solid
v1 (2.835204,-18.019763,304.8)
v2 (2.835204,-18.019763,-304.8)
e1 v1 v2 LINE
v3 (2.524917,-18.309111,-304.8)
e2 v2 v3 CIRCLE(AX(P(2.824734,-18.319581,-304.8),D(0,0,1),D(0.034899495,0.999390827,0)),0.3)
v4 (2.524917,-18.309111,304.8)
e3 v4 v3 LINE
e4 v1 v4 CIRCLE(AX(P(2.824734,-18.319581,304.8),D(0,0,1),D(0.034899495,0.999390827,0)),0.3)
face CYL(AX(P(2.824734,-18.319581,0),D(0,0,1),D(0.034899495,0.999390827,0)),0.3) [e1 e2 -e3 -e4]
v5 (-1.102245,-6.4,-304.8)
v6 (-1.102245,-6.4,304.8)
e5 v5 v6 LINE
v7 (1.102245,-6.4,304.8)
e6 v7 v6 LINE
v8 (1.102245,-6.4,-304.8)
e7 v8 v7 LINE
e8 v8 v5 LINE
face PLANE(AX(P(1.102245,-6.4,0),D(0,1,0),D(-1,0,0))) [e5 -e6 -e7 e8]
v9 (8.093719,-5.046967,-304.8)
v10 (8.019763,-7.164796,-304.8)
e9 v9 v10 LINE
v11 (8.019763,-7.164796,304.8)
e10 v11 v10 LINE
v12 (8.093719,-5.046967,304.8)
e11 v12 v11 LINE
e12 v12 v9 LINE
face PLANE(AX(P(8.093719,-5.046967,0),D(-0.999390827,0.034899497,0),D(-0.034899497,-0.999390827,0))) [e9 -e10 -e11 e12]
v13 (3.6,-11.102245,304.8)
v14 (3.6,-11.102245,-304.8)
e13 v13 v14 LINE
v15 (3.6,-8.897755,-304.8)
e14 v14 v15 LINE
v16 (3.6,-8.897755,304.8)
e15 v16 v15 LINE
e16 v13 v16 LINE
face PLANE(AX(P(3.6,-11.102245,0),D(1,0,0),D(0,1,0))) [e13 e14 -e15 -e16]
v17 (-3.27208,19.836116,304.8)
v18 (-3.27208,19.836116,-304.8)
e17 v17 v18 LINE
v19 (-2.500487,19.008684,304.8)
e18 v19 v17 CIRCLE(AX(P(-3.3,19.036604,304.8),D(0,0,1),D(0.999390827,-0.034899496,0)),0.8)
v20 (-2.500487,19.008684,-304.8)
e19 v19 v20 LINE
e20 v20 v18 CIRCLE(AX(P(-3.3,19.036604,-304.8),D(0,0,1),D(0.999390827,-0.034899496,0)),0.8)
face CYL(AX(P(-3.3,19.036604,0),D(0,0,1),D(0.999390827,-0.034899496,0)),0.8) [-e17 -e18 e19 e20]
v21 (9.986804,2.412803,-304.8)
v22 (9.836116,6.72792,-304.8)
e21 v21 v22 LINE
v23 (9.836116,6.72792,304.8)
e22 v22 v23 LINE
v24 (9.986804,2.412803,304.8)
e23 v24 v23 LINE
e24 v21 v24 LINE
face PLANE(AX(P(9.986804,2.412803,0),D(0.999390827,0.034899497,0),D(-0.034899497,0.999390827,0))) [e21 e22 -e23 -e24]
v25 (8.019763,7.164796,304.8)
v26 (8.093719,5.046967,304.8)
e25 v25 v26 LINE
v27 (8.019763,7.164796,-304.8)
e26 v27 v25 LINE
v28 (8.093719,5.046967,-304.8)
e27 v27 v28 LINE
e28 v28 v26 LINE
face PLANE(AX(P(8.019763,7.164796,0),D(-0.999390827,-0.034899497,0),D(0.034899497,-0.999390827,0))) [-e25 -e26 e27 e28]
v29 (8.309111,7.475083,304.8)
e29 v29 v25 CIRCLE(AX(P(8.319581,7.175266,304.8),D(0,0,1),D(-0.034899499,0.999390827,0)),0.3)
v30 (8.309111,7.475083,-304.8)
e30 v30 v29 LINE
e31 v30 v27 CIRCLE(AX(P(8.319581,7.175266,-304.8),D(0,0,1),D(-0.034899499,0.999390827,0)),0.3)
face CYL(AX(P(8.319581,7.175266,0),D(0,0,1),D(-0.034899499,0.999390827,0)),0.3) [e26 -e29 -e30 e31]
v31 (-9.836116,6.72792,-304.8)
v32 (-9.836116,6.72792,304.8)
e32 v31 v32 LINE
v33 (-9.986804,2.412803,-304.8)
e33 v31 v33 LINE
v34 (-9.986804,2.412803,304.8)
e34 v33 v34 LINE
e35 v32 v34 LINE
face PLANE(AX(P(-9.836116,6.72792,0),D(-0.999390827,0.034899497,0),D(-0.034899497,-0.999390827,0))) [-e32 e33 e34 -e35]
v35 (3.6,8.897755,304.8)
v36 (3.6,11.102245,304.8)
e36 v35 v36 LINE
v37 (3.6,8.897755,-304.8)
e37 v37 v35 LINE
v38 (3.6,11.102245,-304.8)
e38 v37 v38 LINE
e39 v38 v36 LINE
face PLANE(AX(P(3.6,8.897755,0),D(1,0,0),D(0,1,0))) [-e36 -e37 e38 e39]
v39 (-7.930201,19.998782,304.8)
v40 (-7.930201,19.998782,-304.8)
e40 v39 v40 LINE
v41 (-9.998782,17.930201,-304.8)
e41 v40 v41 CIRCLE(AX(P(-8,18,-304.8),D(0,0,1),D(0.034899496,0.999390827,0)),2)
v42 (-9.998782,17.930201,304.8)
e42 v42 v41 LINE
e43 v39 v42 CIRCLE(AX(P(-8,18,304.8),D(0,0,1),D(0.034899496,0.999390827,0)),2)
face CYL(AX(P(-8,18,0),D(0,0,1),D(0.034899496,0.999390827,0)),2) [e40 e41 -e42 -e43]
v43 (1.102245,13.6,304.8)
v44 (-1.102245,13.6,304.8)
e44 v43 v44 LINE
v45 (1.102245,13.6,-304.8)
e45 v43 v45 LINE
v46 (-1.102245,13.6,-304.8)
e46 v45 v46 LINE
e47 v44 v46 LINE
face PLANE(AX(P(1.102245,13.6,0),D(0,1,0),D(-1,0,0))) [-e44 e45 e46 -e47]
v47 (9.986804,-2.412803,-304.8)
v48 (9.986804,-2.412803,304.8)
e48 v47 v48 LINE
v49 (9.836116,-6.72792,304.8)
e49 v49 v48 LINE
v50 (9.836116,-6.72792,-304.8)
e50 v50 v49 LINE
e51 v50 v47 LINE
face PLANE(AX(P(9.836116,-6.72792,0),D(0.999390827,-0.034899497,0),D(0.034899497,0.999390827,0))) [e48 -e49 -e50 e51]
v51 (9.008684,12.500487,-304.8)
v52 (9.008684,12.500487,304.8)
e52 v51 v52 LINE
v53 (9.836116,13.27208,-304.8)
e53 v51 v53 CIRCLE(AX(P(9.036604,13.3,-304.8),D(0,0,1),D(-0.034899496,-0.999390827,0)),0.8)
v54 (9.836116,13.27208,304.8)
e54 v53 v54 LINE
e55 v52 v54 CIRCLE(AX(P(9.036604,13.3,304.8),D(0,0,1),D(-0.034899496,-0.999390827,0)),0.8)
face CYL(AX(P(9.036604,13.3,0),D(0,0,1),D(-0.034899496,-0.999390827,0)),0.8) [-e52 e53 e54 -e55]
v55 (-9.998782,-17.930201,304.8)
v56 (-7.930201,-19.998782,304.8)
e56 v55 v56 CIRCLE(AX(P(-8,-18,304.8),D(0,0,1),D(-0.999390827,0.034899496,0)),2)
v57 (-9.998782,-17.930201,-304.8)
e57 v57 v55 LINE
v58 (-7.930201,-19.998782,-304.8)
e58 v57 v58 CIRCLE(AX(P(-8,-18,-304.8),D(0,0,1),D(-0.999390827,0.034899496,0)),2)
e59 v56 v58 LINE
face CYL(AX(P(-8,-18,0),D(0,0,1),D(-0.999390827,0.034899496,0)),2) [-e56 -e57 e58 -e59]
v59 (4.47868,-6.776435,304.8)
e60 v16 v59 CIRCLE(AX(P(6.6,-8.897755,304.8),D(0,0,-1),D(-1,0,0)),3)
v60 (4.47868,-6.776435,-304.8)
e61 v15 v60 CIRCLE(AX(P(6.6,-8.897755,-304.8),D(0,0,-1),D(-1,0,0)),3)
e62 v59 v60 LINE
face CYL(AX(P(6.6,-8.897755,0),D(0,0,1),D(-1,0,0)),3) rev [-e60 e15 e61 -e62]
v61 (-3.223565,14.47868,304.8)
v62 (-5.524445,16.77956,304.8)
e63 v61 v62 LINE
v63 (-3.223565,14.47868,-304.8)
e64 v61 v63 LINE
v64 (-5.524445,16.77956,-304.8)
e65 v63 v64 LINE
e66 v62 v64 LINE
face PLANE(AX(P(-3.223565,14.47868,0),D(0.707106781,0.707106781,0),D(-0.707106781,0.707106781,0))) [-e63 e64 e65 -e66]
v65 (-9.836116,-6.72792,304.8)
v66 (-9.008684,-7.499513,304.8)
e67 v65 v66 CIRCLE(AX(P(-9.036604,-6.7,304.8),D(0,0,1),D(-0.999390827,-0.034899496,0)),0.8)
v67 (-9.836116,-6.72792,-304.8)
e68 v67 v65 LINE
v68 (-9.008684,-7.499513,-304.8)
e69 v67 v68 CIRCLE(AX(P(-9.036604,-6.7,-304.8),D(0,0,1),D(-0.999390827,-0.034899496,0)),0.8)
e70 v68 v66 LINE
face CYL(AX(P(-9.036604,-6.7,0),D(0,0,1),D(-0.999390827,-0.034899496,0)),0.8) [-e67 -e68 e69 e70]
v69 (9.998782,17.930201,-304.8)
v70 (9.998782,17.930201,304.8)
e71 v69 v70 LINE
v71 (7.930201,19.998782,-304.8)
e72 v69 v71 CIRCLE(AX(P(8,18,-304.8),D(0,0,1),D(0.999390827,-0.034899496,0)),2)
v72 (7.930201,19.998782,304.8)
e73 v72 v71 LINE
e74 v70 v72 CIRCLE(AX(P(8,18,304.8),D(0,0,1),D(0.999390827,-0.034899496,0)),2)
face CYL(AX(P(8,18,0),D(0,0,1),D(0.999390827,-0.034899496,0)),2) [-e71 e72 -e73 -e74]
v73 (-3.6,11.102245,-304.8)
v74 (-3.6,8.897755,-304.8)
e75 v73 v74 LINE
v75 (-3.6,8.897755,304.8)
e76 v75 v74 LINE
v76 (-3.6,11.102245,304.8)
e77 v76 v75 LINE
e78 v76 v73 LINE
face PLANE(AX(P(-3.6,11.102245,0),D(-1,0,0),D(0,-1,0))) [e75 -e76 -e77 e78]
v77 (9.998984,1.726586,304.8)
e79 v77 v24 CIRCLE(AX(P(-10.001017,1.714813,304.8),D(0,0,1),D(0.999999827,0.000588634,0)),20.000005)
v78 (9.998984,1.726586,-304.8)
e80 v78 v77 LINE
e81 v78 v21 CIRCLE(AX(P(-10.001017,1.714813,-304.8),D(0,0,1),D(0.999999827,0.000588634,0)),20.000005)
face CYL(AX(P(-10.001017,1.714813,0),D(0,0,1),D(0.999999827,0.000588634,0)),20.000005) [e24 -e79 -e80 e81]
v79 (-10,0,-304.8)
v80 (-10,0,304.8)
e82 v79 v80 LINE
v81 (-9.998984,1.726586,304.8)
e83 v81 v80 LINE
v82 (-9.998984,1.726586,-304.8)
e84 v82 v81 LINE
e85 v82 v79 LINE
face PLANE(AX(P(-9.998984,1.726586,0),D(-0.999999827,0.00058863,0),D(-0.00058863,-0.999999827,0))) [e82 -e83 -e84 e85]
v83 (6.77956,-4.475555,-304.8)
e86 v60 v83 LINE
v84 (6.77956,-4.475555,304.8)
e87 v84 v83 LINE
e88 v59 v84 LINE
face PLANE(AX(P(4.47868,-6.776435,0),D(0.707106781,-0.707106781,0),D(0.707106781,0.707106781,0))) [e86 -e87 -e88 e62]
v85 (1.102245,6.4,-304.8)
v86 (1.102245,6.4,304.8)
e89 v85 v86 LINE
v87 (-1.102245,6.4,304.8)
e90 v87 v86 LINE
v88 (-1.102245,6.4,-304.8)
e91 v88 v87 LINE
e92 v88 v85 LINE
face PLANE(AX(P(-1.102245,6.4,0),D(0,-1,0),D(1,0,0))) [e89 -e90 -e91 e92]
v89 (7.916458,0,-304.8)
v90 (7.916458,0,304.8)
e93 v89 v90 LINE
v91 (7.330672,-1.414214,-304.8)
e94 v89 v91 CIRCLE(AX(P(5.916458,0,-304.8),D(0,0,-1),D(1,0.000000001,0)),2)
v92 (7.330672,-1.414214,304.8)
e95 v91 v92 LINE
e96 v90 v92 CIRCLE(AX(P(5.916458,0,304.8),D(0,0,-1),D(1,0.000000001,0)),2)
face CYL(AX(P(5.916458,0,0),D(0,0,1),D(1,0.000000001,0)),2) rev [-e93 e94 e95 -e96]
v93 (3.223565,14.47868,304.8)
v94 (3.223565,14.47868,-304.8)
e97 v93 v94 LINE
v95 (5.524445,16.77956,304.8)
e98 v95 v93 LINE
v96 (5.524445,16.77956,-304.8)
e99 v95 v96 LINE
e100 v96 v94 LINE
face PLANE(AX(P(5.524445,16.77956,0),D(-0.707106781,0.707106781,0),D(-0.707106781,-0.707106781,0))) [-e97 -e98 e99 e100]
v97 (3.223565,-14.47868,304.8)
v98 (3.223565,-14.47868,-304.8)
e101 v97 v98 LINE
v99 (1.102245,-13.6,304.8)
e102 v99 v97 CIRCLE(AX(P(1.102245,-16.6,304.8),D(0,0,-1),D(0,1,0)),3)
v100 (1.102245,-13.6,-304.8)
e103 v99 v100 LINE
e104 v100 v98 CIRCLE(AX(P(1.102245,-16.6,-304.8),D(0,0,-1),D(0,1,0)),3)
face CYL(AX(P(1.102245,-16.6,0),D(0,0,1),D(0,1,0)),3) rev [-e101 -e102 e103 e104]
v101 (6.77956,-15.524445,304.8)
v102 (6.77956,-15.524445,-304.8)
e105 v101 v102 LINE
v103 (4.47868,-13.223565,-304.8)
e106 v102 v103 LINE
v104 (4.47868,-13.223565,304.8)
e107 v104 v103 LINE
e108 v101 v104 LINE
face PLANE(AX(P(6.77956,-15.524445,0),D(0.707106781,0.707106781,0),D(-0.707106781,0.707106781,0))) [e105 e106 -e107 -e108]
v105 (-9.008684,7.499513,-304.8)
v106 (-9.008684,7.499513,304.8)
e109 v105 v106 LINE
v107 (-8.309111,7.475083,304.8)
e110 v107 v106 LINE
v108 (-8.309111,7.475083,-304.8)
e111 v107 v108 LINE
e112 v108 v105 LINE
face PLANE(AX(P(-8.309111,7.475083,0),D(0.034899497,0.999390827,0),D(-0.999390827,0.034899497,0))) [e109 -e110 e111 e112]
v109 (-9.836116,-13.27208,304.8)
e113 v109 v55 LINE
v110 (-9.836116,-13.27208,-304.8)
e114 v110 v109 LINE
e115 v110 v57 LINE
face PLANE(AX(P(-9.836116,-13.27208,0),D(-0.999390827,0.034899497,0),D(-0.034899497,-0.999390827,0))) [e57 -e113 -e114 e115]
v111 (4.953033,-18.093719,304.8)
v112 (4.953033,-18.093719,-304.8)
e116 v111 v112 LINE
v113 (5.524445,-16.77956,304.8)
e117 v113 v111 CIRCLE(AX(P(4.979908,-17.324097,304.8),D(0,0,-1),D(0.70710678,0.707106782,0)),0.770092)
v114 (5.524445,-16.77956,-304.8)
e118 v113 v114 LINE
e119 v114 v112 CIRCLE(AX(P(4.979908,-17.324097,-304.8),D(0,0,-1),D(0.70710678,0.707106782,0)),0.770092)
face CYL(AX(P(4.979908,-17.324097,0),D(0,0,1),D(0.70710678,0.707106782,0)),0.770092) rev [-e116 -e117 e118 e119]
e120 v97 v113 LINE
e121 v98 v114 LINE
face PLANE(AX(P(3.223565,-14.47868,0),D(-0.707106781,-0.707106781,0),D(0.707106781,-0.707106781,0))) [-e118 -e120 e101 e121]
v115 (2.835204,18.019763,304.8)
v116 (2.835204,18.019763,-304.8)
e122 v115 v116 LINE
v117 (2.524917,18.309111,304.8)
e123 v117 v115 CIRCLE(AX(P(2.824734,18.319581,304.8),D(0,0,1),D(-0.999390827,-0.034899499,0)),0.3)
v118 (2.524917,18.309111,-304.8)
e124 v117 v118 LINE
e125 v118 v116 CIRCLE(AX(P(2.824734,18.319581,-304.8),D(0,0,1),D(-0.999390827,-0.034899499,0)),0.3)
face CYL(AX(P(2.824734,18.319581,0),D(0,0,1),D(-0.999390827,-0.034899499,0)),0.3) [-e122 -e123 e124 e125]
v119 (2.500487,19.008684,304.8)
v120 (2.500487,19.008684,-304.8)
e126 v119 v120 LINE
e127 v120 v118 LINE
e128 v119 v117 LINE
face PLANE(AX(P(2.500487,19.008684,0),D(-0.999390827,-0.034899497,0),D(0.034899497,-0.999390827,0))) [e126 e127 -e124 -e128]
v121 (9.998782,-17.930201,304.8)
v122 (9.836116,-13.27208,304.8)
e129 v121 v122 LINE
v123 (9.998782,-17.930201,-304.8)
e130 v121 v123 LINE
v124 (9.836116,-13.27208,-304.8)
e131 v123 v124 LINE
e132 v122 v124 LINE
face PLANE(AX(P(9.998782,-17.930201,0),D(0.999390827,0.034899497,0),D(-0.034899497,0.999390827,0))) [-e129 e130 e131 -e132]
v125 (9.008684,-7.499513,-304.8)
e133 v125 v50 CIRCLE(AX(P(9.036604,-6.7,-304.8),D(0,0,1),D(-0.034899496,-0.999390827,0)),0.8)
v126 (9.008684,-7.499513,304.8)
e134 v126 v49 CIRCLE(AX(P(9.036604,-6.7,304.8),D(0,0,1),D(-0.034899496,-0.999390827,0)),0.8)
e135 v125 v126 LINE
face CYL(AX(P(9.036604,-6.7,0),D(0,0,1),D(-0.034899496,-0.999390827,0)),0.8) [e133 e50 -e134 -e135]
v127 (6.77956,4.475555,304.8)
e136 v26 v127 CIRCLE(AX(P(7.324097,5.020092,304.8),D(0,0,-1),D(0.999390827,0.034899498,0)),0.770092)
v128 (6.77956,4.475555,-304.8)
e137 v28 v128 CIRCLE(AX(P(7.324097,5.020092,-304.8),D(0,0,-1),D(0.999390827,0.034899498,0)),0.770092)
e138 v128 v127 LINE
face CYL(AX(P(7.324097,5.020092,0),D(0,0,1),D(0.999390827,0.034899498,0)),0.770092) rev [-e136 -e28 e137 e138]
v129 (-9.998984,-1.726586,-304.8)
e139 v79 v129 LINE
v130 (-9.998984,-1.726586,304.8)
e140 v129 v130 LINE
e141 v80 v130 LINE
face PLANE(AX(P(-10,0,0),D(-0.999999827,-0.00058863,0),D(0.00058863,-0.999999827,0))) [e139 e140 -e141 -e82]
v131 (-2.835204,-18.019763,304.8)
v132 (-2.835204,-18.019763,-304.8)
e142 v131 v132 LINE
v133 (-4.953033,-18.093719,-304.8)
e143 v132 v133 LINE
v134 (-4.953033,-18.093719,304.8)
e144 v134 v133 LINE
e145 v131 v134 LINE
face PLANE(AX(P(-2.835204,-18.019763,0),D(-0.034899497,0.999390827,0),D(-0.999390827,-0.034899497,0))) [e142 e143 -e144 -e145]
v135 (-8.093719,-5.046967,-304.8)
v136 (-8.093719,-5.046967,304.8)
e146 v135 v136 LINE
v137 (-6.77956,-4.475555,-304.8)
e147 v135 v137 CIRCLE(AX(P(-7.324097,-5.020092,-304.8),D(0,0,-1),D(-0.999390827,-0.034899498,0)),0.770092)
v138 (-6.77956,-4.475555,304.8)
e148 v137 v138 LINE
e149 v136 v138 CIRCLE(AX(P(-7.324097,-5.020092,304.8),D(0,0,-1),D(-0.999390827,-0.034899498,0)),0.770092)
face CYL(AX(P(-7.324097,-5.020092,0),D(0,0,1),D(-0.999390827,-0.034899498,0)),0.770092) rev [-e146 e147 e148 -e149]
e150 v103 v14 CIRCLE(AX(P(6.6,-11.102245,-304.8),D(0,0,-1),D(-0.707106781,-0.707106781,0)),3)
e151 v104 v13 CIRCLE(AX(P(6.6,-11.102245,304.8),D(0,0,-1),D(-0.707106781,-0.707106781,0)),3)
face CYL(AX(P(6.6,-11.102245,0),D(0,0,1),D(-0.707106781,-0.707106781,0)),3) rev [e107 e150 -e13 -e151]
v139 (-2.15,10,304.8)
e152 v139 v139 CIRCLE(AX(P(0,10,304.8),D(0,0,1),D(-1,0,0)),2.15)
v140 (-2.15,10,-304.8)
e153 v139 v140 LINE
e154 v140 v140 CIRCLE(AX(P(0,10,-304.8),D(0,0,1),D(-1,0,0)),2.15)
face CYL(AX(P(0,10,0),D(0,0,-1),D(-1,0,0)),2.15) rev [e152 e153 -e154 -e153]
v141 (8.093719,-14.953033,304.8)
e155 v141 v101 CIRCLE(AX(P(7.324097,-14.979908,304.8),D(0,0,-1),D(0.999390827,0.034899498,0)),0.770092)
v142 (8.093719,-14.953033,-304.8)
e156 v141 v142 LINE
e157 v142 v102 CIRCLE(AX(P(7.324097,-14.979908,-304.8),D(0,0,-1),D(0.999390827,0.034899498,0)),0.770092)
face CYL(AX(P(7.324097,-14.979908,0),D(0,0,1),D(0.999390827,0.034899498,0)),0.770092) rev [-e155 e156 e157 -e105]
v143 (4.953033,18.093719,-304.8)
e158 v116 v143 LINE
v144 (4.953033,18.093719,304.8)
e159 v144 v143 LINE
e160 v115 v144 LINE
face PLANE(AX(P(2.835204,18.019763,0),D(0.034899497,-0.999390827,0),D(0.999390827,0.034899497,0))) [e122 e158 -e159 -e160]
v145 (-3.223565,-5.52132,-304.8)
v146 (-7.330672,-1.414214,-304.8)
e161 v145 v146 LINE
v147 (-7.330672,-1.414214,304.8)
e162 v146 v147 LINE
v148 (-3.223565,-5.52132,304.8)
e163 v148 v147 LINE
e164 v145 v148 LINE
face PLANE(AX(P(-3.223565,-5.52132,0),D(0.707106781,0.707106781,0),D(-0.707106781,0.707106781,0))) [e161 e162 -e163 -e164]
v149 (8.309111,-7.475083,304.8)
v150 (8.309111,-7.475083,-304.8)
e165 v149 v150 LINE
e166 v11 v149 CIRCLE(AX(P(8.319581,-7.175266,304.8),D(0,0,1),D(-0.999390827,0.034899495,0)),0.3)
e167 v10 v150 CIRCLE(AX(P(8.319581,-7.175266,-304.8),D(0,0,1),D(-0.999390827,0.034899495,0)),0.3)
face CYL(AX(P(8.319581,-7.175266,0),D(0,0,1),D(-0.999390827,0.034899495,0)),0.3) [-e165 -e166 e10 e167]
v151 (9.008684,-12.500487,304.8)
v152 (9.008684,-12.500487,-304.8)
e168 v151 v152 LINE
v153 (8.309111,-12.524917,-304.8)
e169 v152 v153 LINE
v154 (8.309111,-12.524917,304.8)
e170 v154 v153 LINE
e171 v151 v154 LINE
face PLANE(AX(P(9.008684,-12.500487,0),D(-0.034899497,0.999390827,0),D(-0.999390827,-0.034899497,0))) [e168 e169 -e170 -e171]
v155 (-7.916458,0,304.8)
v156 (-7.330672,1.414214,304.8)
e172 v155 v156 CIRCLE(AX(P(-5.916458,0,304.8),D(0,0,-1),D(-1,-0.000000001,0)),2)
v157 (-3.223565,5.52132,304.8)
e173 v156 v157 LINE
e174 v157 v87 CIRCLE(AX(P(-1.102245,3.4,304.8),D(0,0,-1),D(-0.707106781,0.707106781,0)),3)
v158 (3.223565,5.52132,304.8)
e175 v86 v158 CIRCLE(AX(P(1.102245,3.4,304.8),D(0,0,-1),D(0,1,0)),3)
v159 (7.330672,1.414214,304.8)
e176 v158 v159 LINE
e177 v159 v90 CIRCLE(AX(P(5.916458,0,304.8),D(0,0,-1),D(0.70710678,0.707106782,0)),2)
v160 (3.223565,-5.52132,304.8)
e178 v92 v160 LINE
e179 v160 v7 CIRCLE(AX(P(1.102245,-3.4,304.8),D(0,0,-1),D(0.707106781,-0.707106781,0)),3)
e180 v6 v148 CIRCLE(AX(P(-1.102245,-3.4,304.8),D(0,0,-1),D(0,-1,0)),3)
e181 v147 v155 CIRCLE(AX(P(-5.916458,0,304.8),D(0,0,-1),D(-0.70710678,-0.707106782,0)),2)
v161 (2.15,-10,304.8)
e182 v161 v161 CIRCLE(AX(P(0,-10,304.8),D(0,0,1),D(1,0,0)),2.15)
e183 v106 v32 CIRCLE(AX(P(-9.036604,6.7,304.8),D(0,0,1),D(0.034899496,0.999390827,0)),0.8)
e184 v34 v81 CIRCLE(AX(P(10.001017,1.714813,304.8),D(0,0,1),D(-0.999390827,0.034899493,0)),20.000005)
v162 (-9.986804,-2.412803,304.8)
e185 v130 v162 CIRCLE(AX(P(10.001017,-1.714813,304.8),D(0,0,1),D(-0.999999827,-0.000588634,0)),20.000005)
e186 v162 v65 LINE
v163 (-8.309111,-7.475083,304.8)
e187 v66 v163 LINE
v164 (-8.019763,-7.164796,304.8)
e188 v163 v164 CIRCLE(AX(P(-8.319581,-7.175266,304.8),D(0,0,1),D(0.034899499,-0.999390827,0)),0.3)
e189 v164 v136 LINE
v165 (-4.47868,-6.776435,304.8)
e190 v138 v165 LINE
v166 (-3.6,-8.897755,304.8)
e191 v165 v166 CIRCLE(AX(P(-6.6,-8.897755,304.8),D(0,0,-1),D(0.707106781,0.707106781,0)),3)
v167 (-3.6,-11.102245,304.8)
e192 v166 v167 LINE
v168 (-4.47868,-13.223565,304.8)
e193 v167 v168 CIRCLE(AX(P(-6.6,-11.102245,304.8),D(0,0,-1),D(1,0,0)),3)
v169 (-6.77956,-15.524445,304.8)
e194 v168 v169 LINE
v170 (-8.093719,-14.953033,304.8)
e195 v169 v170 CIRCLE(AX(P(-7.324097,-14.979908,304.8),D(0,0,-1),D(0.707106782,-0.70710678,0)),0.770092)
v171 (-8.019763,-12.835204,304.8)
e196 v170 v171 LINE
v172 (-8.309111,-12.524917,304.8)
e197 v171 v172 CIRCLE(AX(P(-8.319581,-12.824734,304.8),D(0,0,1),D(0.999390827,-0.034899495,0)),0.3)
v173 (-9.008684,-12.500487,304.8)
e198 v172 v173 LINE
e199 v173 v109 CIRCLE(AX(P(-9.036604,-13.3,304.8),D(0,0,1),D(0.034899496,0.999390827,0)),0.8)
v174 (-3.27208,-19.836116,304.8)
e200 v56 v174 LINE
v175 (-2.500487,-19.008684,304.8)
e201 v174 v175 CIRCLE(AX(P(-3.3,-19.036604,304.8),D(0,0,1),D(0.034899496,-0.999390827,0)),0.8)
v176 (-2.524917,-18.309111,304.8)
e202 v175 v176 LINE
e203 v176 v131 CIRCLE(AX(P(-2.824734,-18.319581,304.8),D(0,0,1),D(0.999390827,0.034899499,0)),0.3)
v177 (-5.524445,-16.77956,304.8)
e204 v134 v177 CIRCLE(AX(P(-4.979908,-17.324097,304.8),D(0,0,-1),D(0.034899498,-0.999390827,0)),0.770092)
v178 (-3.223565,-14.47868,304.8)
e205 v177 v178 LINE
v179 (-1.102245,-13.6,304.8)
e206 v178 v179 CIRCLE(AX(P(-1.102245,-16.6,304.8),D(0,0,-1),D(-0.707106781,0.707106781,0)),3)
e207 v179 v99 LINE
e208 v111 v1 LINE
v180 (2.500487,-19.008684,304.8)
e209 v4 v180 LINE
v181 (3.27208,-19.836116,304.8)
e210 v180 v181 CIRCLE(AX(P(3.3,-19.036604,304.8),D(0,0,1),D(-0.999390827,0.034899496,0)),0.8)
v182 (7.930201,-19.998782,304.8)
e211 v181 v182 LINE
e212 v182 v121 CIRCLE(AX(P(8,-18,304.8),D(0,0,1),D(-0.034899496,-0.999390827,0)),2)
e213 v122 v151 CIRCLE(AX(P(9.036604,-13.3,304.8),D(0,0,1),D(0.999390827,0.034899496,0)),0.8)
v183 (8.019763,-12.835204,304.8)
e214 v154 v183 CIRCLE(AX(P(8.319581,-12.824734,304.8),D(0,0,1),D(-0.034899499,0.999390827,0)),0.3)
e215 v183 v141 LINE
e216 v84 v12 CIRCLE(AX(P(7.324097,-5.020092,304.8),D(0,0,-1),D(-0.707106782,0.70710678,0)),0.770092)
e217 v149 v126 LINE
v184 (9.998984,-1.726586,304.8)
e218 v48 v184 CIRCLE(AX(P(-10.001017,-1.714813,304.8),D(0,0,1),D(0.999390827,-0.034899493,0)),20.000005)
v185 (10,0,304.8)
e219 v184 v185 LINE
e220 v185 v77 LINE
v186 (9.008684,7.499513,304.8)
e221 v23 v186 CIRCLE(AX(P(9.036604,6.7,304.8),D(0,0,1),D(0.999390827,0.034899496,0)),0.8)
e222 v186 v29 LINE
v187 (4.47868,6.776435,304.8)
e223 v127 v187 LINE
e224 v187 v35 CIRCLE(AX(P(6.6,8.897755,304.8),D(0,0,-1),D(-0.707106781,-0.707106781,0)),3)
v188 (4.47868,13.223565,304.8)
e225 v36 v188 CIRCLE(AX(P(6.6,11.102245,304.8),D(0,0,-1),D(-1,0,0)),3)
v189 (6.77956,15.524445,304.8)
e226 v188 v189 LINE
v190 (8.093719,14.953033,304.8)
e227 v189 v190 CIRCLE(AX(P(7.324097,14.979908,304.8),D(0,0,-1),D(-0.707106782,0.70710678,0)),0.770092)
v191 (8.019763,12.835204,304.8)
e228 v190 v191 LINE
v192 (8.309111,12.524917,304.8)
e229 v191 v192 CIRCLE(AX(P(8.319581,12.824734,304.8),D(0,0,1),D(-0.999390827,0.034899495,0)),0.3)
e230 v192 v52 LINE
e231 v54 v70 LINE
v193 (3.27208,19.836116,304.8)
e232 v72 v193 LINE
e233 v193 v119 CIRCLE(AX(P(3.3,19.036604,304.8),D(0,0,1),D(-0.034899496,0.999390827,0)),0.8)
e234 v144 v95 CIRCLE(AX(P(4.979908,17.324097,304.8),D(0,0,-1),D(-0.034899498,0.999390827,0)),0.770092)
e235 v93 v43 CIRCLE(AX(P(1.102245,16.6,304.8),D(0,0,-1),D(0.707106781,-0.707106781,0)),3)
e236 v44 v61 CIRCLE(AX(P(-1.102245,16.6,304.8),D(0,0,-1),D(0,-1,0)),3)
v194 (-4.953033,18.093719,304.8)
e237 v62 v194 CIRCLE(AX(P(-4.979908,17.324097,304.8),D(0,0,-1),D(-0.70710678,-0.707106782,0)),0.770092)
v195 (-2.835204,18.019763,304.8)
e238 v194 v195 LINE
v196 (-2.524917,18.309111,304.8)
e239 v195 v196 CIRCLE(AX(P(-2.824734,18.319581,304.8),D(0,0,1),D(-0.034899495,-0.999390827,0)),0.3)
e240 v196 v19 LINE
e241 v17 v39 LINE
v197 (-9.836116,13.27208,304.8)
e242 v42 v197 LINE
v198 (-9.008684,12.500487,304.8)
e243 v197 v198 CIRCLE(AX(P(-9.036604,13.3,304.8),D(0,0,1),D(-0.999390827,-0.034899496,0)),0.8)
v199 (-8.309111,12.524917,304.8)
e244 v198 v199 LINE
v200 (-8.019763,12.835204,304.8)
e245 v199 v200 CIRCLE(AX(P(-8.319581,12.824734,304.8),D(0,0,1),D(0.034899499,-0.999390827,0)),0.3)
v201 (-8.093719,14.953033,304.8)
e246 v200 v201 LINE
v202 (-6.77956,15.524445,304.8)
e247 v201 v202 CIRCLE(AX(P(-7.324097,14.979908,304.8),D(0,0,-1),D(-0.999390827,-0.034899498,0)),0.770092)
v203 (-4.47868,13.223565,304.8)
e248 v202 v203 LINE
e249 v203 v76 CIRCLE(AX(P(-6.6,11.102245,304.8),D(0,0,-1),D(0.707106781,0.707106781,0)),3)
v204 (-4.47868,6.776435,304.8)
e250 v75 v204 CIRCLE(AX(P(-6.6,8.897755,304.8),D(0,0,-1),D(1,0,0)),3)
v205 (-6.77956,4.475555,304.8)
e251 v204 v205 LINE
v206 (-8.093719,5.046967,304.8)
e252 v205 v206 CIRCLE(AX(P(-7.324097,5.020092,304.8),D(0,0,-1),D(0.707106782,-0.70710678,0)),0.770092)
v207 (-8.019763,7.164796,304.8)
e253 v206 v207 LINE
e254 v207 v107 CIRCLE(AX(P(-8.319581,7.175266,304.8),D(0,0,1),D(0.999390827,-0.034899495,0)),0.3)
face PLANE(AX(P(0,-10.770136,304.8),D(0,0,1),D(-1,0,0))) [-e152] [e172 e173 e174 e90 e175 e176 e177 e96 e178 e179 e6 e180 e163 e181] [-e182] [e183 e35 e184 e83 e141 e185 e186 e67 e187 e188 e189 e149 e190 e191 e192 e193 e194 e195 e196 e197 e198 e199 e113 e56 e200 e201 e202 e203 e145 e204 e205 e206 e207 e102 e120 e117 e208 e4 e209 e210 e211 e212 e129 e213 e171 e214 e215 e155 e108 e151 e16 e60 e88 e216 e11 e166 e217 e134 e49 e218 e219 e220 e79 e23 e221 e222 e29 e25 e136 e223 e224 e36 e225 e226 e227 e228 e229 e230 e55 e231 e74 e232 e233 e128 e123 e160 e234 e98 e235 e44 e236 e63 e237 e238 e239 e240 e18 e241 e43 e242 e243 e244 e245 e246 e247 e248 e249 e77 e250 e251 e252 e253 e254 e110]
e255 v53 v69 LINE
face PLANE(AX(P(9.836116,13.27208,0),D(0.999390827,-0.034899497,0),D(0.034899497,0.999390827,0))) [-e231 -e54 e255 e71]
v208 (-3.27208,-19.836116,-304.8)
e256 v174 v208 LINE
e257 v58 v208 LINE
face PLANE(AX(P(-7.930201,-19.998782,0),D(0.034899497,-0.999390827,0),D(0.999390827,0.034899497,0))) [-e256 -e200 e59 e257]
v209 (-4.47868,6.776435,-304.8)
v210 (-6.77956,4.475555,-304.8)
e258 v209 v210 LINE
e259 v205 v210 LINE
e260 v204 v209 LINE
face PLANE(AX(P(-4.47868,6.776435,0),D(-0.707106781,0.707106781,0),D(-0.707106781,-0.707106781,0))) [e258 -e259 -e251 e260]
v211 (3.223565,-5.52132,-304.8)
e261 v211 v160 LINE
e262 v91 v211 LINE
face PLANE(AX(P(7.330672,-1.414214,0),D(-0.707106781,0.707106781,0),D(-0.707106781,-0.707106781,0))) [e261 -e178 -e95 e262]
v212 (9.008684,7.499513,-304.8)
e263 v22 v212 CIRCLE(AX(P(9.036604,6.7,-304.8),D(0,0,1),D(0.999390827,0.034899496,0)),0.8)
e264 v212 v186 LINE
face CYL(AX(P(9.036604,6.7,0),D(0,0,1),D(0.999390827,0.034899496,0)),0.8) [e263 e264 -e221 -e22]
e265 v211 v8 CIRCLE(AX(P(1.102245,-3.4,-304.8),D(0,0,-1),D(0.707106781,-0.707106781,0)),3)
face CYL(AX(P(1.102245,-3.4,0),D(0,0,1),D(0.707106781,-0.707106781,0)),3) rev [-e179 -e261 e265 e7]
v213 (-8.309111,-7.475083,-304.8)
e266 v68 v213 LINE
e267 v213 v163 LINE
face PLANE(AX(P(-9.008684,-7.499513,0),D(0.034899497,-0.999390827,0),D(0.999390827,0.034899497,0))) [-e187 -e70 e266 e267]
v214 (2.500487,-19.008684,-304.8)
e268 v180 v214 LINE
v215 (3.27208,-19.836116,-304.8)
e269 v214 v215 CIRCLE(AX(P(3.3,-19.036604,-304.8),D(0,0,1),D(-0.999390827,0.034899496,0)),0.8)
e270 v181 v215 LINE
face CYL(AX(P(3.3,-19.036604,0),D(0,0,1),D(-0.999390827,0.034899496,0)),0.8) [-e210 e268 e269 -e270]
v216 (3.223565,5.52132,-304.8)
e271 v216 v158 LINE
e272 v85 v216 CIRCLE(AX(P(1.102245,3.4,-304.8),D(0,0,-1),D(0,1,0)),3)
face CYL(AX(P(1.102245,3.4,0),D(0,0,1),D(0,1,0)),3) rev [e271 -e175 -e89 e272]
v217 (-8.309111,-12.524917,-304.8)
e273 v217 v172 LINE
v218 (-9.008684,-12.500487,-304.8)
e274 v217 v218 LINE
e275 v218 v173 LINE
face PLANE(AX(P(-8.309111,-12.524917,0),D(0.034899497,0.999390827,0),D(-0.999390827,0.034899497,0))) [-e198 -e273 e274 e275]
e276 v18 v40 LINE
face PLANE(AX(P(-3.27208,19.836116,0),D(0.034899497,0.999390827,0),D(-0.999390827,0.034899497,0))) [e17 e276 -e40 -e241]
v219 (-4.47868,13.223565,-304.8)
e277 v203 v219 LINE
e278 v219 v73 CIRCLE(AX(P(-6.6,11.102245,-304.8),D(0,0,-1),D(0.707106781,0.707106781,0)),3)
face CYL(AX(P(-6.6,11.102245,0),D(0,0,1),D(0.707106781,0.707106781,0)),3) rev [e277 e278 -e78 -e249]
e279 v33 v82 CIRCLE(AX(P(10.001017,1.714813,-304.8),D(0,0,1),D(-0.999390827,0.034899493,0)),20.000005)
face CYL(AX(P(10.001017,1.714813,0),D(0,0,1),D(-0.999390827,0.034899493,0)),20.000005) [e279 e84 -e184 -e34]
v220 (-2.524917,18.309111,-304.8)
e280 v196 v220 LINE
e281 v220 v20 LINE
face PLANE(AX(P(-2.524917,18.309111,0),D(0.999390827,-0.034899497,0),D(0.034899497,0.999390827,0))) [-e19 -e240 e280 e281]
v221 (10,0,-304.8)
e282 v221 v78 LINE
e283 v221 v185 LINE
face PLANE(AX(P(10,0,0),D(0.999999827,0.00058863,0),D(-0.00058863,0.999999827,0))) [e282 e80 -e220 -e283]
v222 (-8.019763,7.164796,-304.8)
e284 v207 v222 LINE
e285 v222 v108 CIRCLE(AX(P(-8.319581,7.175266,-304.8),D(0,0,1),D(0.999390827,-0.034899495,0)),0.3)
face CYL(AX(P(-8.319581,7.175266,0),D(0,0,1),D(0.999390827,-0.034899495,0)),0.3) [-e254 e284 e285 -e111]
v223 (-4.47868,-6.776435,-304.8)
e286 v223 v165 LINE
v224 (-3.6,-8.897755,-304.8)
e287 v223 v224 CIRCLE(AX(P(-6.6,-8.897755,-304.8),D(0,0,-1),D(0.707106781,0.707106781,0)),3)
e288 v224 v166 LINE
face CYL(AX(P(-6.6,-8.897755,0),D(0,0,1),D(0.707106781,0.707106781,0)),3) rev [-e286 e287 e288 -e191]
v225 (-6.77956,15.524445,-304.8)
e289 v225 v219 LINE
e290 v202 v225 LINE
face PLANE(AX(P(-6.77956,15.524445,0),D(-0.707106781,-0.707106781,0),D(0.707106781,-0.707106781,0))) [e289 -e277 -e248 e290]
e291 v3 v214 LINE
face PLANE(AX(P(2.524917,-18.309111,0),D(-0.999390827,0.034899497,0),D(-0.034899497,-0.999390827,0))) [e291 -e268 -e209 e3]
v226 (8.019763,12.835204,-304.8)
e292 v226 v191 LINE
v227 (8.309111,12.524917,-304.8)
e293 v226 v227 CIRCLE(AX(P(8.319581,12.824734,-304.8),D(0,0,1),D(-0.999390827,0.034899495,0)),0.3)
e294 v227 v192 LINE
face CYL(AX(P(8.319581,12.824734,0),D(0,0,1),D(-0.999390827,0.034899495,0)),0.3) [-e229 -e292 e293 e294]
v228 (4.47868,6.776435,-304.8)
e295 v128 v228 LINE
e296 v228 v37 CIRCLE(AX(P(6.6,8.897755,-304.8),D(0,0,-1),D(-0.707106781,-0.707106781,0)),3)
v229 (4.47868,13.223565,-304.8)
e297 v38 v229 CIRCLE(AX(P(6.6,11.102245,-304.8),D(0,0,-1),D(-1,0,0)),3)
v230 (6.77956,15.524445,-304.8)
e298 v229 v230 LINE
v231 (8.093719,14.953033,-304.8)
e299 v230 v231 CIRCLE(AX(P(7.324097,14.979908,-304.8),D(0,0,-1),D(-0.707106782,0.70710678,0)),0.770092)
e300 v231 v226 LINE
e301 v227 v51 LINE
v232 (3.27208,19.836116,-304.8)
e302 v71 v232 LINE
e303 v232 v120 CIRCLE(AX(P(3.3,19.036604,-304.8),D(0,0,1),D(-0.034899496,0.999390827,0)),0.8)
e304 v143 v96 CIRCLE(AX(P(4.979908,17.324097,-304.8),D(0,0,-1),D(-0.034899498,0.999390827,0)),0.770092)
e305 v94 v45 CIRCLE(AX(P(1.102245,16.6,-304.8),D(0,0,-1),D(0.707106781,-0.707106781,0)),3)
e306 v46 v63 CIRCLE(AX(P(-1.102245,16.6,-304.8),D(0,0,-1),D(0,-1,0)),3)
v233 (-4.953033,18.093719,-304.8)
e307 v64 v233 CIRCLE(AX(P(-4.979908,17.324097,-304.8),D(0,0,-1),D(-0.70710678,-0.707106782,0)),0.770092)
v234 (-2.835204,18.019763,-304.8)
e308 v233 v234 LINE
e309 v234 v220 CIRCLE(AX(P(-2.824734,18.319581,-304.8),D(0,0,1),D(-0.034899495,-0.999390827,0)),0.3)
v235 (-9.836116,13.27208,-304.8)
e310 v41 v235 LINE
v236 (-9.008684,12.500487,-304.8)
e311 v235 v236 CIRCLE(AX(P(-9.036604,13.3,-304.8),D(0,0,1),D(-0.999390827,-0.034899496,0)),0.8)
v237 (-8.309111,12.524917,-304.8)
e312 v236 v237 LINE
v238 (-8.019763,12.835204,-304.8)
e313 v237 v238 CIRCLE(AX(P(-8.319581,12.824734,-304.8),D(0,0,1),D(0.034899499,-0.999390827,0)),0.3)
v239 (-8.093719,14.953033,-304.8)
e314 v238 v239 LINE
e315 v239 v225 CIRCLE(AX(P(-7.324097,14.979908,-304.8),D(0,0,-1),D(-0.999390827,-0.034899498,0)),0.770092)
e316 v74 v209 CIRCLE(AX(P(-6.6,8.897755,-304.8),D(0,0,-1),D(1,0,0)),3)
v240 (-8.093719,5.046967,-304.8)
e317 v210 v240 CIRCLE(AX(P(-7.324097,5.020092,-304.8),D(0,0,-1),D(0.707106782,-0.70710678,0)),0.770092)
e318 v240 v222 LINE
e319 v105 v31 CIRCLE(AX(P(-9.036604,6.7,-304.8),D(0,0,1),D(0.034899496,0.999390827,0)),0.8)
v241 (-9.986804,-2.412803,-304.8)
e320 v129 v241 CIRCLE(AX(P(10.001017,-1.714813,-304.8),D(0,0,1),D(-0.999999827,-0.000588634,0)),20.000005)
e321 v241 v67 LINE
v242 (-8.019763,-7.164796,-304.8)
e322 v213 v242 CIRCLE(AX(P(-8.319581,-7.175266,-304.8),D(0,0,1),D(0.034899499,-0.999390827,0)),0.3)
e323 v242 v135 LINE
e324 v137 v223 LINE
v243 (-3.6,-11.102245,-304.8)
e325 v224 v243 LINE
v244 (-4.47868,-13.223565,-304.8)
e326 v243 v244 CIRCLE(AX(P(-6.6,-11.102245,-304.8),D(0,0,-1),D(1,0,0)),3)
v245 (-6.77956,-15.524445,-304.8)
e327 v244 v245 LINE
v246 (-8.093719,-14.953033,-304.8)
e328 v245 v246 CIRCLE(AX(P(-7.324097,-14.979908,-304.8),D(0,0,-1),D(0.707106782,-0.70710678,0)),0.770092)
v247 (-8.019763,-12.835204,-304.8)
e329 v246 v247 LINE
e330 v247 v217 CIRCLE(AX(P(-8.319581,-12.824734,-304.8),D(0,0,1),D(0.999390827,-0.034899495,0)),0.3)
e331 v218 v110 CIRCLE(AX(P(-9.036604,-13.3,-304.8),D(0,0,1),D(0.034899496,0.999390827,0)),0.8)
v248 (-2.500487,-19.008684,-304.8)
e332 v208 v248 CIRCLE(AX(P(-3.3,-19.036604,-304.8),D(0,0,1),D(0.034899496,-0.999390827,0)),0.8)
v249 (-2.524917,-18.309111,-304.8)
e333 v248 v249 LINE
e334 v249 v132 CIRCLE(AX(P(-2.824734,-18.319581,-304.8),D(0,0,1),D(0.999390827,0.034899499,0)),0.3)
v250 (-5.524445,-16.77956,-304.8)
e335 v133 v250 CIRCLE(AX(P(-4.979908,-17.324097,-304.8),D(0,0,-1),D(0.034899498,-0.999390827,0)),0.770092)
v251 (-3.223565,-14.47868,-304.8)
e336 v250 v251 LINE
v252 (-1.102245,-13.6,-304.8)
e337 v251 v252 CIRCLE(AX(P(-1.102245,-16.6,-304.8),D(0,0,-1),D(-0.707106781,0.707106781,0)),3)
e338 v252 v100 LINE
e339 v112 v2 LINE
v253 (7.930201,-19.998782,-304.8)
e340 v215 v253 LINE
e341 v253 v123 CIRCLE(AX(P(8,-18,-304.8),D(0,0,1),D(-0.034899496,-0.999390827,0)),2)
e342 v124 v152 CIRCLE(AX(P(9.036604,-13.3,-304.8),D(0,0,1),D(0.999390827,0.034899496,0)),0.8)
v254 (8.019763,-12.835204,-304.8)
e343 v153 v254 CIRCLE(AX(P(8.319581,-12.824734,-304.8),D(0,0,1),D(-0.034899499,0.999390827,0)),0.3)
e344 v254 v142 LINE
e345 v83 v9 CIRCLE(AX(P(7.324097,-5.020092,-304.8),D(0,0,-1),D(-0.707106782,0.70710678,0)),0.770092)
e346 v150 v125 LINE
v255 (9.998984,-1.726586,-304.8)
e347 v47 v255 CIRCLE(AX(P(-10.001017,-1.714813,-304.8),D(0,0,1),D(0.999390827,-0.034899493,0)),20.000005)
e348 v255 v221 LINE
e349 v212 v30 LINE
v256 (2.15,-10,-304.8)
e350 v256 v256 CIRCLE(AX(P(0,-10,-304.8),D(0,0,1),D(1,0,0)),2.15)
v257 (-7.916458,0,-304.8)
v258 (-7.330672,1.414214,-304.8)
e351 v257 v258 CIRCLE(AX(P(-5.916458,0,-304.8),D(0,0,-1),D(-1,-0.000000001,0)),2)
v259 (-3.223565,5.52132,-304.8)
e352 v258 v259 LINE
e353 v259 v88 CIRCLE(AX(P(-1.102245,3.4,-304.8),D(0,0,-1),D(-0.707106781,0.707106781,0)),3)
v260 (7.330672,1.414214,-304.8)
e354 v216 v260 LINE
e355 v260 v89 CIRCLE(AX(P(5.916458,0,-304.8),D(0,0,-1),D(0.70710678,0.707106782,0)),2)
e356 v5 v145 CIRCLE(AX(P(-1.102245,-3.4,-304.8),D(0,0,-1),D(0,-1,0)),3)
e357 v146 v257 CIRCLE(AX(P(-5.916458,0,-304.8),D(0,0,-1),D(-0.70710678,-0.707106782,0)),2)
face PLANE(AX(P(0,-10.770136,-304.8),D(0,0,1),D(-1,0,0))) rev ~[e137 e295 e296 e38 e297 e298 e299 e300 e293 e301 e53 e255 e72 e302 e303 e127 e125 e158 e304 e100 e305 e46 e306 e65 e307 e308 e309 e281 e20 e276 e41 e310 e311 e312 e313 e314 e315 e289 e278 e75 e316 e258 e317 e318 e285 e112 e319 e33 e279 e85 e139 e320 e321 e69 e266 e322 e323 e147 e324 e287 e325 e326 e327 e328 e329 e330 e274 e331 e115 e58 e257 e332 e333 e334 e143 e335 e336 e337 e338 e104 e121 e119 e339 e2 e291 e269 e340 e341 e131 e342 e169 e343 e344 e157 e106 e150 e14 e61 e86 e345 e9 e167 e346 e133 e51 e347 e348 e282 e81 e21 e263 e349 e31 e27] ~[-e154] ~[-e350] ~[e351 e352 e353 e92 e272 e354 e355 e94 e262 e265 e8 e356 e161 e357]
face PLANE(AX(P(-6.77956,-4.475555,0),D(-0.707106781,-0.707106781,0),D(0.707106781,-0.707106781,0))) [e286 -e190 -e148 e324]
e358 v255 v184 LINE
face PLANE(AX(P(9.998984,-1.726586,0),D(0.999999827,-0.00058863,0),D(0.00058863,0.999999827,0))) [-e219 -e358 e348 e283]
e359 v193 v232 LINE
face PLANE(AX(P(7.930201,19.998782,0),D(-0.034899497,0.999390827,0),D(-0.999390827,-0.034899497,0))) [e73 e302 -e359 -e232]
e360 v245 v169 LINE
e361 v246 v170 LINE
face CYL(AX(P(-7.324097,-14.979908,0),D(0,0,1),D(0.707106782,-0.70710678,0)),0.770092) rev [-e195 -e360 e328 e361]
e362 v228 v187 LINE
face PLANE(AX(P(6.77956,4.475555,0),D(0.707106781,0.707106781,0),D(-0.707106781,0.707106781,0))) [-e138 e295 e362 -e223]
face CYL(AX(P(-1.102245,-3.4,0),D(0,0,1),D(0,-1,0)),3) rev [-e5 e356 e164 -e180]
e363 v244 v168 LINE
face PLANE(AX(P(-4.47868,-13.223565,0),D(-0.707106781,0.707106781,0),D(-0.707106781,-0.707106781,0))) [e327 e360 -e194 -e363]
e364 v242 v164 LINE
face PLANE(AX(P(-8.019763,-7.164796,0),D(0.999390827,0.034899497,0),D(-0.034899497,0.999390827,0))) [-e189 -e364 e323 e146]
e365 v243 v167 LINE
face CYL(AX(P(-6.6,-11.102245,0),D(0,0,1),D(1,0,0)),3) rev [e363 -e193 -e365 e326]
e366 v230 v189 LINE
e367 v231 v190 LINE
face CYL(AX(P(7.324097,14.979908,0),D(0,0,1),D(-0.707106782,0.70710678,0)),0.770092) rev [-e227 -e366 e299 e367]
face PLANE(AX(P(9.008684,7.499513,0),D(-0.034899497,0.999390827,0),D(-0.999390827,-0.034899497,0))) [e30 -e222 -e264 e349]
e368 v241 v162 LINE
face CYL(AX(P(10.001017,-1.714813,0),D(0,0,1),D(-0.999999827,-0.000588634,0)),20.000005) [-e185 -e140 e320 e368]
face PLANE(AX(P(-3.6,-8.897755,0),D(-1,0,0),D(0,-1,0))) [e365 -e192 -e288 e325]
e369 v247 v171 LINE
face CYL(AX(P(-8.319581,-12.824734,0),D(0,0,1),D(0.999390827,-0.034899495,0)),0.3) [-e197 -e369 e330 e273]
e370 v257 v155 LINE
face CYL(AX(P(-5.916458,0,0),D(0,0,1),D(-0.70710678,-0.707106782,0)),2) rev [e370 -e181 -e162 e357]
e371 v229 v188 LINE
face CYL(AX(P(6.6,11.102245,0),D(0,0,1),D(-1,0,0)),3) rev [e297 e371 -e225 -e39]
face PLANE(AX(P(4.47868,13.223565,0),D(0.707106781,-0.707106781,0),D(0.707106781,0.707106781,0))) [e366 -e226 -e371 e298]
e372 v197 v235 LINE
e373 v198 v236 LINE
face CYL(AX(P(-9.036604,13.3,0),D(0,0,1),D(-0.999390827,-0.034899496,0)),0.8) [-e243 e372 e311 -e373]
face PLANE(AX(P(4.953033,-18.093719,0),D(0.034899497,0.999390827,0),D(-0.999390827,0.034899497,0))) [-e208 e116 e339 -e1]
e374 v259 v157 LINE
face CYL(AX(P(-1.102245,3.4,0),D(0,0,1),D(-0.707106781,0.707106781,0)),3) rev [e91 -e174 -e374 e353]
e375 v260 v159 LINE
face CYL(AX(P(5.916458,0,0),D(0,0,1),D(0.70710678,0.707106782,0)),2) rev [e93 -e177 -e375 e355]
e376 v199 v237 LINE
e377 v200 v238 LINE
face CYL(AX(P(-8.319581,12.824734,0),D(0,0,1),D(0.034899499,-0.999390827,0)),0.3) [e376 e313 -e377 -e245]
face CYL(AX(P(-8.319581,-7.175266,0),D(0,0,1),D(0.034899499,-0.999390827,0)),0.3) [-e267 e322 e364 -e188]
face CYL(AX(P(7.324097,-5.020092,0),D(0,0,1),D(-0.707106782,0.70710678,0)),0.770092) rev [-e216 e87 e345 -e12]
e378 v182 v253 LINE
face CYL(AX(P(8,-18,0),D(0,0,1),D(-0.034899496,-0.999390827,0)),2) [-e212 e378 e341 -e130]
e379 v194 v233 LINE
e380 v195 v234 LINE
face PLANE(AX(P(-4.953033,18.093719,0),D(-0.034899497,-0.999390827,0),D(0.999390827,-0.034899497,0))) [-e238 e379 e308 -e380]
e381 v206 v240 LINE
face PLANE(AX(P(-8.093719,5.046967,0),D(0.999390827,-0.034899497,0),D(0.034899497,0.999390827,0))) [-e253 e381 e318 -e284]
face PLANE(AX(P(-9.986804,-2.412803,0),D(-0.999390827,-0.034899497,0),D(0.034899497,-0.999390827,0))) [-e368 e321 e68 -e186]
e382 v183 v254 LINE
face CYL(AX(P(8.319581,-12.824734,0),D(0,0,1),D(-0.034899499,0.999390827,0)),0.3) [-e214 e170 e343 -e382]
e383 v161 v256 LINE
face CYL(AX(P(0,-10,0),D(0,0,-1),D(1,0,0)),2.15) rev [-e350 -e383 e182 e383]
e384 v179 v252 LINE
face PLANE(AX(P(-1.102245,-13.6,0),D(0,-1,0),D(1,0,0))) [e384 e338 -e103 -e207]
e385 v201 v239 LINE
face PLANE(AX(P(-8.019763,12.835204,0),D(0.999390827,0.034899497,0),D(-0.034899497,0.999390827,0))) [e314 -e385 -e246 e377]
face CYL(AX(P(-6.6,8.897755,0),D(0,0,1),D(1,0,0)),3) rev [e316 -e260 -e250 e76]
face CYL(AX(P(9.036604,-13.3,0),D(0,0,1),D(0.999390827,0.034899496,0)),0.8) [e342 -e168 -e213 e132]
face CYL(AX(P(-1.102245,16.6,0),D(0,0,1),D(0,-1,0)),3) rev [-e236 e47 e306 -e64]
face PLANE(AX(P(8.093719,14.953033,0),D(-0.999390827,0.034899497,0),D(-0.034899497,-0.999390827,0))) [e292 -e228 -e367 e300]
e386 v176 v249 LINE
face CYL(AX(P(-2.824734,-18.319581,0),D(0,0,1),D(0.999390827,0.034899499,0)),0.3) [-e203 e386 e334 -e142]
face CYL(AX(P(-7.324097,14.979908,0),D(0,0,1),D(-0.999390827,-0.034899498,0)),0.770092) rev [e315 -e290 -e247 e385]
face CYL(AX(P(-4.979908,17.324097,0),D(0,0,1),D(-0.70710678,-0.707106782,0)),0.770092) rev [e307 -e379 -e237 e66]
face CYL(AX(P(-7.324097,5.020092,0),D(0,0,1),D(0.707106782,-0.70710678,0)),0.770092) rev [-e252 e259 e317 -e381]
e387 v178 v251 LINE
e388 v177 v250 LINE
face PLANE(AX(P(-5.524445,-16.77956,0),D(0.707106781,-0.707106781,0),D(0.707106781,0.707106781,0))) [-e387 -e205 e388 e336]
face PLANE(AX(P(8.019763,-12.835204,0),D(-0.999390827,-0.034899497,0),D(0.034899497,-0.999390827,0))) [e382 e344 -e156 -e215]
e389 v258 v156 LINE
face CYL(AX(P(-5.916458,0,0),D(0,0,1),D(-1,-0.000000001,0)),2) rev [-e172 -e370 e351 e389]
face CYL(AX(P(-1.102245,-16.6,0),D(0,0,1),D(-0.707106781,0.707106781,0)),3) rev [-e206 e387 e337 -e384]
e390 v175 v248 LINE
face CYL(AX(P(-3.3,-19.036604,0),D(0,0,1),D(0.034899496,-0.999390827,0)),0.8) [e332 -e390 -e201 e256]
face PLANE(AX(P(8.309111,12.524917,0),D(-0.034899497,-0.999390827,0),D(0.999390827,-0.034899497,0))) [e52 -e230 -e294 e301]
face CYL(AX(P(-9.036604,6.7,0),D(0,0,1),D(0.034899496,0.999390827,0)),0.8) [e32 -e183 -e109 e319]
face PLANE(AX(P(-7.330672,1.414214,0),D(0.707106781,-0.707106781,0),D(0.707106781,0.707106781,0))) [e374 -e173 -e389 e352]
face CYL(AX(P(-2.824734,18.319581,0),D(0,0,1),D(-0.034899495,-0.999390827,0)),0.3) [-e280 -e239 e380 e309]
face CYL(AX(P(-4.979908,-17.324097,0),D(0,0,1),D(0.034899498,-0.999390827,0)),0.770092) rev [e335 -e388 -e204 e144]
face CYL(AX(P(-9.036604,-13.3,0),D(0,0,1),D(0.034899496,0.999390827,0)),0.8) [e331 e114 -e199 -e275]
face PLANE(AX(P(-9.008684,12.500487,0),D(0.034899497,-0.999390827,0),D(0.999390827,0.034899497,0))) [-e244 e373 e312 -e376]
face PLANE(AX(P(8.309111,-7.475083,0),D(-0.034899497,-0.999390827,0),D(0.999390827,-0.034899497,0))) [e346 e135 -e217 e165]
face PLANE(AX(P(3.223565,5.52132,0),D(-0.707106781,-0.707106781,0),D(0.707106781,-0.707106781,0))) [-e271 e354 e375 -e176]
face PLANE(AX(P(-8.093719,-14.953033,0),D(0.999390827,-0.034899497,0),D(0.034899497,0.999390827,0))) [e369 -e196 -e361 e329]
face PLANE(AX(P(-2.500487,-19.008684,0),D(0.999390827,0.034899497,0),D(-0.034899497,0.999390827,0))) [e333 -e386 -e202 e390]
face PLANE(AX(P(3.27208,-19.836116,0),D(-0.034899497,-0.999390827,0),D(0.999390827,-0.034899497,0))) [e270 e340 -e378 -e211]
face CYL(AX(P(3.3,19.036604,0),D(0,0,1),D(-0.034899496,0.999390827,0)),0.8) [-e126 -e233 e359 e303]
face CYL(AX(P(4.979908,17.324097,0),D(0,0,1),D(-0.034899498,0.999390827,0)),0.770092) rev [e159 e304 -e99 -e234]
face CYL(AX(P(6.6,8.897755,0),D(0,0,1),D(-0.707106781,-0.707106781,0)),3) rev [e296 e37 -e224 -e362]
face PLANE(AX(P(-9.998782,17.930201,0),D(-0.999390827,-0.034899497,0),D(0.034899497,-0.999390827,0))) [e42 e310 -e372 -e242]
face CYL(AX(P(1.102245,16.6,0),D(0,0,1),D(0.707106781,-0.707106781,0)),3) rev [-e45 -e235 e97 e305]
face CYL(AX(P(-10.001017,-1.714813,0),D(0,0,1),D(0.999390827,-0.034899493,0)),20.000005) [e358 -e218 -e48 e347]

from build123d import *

# Parameters (mm, degrees)
SKETCH3_R           = 2.15
BOSS_EXTRUDE1_DEPTH = 304.8
CIRPATTERN1_COUNT   = 2


with BuildPart() as part:
    # Sketch3 → Boss-Extrude1 (new, symmetric)
    with BuildSketch(Plane.XY):
        with BuildLine():
            Line((-8.30911066, 7.475083014), (-9.008684239, 7.499512662))
            ThreePointArc((-9.008684239, 7.499512662), (-9.582202525, 7.285082961), (-9.836116498, 6.727919597))
            Line((-9.836116498, 6.727919597), (-9.986803685, 2.412803152))
            ThreePointArc((-9.986803685, 2.412803152), (-9.995837451, 2.069746735), (-9.99898368, 1.726585818))
            Line((-9.99898368, 1.726585818), (-10, 0))
            Line((-10, 0), (-7.916458339, 0))
            ThreePointArc((-7.916458339, 0), (-7.764217404, 0.765366865), (-7.330671901, 1.414213562))
            Line((-7.330671901, 1.414213562), (-3.22356512, 5.521320344))
            ThreePointArc((-3.22356512, 5.521320344), (-2.250295073, 6.171638598), (-1.102244776, 6.4))
            Line((-1.102244776, 6.4), (1.102244776, 6.4))
            ThreePointArc((1.102244776, 6.4), (2.250295073, 6.171638598), (3.22356512, 5.521320344))
            Line((3.22356512, 5.521320344), (7.330671901, 1.414213562))
            ThreePointArc((7.330671901, 1.414213562), (7.764217404, 0.765366865), (7.916458339, 0))
            Line((7.916458339, 0), (10, 0))
            Line((10, 0), (9.99898368, 1.726585818))
            ThreePointArc((9.99898368, 1.726585818), (9.995837451, 2.069746735), (9.986803685, 2.412803152))
            Line((9.986803685, 2.412803152), (9.836116498, 6.727919597))
            ThreePointArc((9.836116498, 6.727919597), (9.582202525, 7.285082961), (9.008684239, 7.499512662))
            Line((9.008684239, 7.499512662), (8.30911066, 7.475083014))
            ThreePointArc((8.30911066, 7.475083014), (8.100174399, 7.379865274), (8.019763261, 7.164795917))
            Line((8.019763261, 7.164795917), (8.093719461, 5.046967452))
            ThreePointArc((8.093719461, 5.046967452), (7.631170264, 4.313871343), (6.779559917, 4.47555462))
            Line((6.779559917, 4.47555462), (4.478679656, 6.77643488))
            ThreePointArc((4.478679656, 6.77643488), (3.828361402, 7.749704927), (3.6, 8.897755224))
            Line((3.6, 8.897755224), (3.6, 11.102244776))
            ThreePointArc((3.6, 11.102244776), (3.828361402, 12.250295073), (4.478679656, 13.22356512))
            Line((4.478679656, 13.22356512), (6.779559917, 15.52444538))
            ThreePointArc((6.779559917, 15.52444538), (7.631170264, 15.686128657), (8.093719461, 14.953032548))
            Line((8.093719461, 14.953032548), (8.019763261, 12.835204083))
            ThreePointArc((8.019763261, 12.835204083), (8.100174399, 12.620134726), (8.30911066, 12.524916986))
            Line((8.30911066, 12.524916986), (9.008684239, 12.500487338))
            ThreePointArc((9.008684239, 12.500487338), (9.582202525, 12.714917039), (9.836116498, 13.272080403))
            Line((9.836116498, 13.272080403), (9.998781654, 17.930201007))
            ThreePointArc((9.998781654, 17.930201007), (9.414213562, 19.414213562), (7.930201007, 19.998781654))
            Line((7.930201007, 19.998781654), (3.272080403, 19.836116498))
            ThreePointArc((3.272080403, 19.836116498), (2.714917039, 19.582202525), (2.500487338, 19.008684239))
            Line((2.500487338, 19.008684239), (2.524916986, 18.30911066))
            ThreePointArc((2.524916986, 18.30911066), (2.620134726, 18.100174399), (2.835204083, 18.019763261))
            Line((2.835204083, 18.019763261), (4.953032548, 18.093719461))
            ThreePointArc((4.953032548, 18.093719461), (5.686128657, 17.631170264), (5.52444538, 16.779559917))
            Line((5.52444538, 16.779559917), (3.22356512, 14.478679656))
            ThreePointArc((3.22356512, 14.478679656), (2.250295073, 13.828361402), (1.102244776, 13.6))
            Line((1.102244776, 13.6), (-1.102244776, 13.6))
            ThreePointArc((-1.102244776, 13.6), (-2.250295073, 13.828361402), (-3.22356512, 14.478679656))
            Line((-3.22356512, 14.478679656), (-5.52444538, 16.779559917))
            ThreePointArc((-5.52444538, 16.779559917), (-5.686128657, 17.631170264), (-4.953032548, 18.093719461))
            Line((-4.953032548, 18.093719461), (-2.835204083, 18.019763261))
            ThreePointArc((-2.835204083, 18.019763261), (-2.620134726, 18.100174399), (-2.524916986, 18.30911066))
            Line((-2.524916986, 18.30911066), (-2.500487338, 19.008684239))
            ThreePointArc((-2.500487338, 19.008684239), (-2.714917039, 19.582202525), (-3.272080403, 19.836116498))
            Line((-3.272080403, 19.836116498), (-7.930201007, 19.998781654))
            ThreePointArc((-7.930201007, 19.998781654), (-9.414213562, 19.414213562), (-9.998781654, 17.930201007))
            Line((-9.998781654, 17.930201007), (-9.836116498, 13.272080403))
            ThreePointArc((-9.836116498, 13.272080403), (-9.582202525, 12.714917039), (-9.008684239, 12.500487338))
            Line((-9.008684239, 12.500487338), (-8.30911066, 12.524916986))
            ThreePointArc((-8.30911066, 12.524916986), (-8.100174399, 12.620134726), (-8.019763261, 12.835204083))
            Line((-8.019763261, 12.835204083), (-8.093719461, 14.953032548))
            ThreePointArc((-8.093719461, 14.953032548), (-7.631170264, 15.686128657), (-6.779559917, 15.52444538))
            Line((-6.779559917, 15.52444538), (-4.478679656, 13.22356512))
            ThreePointArc((-4.478679656, 13.22356512), (-3.828361402, 12.250295073), (-3.6, 11.102244776))
            Line((-3.6, 11.102244776), (-3.6, 8.897755224))
            ThreePointArc((-3.6, 8.897755224), (-3.828361402, 7.749704927), (-4.478679656, 6.77643488))
            Line((-4.478679656, 6.77643488), (-6.779559917, 4.47555462))
            ThreePointArc((-6.779559917, 4.47555462), (-7.631170264, 4.313871343), (-8.093719461, 5.046967452))
            Line((-8.093719461, 5.046967452), (-8.019763261, 7.164795917))
            ThreePointArc((-8.019763261, 7.164795917), (-8.100174399, 7.379865274), (-8.30911066, 7.475083014))
        make_face()
        with Locations(Location((0, 10, 0), (0, 0, 180))):
            Circle(SKETCH3_R, mode=Mode.SUBTRACT)
    boss_extrude1 = extrude(amount=BOSS_EXTRUDE1_DEPTH, both=True)

    # CirPattern1: Boss-Extrude1 ×2 about axis
    cirpattern1_axis = Axis((0, 0, 0), (0, 0, 1))
    for i in range(1, CIRPATTERN1_COUNT):
        add(boss_extrude1.rotate(cirpattern1_axis, i * 360 / CIRPATTERN1_COUNT))


solid = part.part
